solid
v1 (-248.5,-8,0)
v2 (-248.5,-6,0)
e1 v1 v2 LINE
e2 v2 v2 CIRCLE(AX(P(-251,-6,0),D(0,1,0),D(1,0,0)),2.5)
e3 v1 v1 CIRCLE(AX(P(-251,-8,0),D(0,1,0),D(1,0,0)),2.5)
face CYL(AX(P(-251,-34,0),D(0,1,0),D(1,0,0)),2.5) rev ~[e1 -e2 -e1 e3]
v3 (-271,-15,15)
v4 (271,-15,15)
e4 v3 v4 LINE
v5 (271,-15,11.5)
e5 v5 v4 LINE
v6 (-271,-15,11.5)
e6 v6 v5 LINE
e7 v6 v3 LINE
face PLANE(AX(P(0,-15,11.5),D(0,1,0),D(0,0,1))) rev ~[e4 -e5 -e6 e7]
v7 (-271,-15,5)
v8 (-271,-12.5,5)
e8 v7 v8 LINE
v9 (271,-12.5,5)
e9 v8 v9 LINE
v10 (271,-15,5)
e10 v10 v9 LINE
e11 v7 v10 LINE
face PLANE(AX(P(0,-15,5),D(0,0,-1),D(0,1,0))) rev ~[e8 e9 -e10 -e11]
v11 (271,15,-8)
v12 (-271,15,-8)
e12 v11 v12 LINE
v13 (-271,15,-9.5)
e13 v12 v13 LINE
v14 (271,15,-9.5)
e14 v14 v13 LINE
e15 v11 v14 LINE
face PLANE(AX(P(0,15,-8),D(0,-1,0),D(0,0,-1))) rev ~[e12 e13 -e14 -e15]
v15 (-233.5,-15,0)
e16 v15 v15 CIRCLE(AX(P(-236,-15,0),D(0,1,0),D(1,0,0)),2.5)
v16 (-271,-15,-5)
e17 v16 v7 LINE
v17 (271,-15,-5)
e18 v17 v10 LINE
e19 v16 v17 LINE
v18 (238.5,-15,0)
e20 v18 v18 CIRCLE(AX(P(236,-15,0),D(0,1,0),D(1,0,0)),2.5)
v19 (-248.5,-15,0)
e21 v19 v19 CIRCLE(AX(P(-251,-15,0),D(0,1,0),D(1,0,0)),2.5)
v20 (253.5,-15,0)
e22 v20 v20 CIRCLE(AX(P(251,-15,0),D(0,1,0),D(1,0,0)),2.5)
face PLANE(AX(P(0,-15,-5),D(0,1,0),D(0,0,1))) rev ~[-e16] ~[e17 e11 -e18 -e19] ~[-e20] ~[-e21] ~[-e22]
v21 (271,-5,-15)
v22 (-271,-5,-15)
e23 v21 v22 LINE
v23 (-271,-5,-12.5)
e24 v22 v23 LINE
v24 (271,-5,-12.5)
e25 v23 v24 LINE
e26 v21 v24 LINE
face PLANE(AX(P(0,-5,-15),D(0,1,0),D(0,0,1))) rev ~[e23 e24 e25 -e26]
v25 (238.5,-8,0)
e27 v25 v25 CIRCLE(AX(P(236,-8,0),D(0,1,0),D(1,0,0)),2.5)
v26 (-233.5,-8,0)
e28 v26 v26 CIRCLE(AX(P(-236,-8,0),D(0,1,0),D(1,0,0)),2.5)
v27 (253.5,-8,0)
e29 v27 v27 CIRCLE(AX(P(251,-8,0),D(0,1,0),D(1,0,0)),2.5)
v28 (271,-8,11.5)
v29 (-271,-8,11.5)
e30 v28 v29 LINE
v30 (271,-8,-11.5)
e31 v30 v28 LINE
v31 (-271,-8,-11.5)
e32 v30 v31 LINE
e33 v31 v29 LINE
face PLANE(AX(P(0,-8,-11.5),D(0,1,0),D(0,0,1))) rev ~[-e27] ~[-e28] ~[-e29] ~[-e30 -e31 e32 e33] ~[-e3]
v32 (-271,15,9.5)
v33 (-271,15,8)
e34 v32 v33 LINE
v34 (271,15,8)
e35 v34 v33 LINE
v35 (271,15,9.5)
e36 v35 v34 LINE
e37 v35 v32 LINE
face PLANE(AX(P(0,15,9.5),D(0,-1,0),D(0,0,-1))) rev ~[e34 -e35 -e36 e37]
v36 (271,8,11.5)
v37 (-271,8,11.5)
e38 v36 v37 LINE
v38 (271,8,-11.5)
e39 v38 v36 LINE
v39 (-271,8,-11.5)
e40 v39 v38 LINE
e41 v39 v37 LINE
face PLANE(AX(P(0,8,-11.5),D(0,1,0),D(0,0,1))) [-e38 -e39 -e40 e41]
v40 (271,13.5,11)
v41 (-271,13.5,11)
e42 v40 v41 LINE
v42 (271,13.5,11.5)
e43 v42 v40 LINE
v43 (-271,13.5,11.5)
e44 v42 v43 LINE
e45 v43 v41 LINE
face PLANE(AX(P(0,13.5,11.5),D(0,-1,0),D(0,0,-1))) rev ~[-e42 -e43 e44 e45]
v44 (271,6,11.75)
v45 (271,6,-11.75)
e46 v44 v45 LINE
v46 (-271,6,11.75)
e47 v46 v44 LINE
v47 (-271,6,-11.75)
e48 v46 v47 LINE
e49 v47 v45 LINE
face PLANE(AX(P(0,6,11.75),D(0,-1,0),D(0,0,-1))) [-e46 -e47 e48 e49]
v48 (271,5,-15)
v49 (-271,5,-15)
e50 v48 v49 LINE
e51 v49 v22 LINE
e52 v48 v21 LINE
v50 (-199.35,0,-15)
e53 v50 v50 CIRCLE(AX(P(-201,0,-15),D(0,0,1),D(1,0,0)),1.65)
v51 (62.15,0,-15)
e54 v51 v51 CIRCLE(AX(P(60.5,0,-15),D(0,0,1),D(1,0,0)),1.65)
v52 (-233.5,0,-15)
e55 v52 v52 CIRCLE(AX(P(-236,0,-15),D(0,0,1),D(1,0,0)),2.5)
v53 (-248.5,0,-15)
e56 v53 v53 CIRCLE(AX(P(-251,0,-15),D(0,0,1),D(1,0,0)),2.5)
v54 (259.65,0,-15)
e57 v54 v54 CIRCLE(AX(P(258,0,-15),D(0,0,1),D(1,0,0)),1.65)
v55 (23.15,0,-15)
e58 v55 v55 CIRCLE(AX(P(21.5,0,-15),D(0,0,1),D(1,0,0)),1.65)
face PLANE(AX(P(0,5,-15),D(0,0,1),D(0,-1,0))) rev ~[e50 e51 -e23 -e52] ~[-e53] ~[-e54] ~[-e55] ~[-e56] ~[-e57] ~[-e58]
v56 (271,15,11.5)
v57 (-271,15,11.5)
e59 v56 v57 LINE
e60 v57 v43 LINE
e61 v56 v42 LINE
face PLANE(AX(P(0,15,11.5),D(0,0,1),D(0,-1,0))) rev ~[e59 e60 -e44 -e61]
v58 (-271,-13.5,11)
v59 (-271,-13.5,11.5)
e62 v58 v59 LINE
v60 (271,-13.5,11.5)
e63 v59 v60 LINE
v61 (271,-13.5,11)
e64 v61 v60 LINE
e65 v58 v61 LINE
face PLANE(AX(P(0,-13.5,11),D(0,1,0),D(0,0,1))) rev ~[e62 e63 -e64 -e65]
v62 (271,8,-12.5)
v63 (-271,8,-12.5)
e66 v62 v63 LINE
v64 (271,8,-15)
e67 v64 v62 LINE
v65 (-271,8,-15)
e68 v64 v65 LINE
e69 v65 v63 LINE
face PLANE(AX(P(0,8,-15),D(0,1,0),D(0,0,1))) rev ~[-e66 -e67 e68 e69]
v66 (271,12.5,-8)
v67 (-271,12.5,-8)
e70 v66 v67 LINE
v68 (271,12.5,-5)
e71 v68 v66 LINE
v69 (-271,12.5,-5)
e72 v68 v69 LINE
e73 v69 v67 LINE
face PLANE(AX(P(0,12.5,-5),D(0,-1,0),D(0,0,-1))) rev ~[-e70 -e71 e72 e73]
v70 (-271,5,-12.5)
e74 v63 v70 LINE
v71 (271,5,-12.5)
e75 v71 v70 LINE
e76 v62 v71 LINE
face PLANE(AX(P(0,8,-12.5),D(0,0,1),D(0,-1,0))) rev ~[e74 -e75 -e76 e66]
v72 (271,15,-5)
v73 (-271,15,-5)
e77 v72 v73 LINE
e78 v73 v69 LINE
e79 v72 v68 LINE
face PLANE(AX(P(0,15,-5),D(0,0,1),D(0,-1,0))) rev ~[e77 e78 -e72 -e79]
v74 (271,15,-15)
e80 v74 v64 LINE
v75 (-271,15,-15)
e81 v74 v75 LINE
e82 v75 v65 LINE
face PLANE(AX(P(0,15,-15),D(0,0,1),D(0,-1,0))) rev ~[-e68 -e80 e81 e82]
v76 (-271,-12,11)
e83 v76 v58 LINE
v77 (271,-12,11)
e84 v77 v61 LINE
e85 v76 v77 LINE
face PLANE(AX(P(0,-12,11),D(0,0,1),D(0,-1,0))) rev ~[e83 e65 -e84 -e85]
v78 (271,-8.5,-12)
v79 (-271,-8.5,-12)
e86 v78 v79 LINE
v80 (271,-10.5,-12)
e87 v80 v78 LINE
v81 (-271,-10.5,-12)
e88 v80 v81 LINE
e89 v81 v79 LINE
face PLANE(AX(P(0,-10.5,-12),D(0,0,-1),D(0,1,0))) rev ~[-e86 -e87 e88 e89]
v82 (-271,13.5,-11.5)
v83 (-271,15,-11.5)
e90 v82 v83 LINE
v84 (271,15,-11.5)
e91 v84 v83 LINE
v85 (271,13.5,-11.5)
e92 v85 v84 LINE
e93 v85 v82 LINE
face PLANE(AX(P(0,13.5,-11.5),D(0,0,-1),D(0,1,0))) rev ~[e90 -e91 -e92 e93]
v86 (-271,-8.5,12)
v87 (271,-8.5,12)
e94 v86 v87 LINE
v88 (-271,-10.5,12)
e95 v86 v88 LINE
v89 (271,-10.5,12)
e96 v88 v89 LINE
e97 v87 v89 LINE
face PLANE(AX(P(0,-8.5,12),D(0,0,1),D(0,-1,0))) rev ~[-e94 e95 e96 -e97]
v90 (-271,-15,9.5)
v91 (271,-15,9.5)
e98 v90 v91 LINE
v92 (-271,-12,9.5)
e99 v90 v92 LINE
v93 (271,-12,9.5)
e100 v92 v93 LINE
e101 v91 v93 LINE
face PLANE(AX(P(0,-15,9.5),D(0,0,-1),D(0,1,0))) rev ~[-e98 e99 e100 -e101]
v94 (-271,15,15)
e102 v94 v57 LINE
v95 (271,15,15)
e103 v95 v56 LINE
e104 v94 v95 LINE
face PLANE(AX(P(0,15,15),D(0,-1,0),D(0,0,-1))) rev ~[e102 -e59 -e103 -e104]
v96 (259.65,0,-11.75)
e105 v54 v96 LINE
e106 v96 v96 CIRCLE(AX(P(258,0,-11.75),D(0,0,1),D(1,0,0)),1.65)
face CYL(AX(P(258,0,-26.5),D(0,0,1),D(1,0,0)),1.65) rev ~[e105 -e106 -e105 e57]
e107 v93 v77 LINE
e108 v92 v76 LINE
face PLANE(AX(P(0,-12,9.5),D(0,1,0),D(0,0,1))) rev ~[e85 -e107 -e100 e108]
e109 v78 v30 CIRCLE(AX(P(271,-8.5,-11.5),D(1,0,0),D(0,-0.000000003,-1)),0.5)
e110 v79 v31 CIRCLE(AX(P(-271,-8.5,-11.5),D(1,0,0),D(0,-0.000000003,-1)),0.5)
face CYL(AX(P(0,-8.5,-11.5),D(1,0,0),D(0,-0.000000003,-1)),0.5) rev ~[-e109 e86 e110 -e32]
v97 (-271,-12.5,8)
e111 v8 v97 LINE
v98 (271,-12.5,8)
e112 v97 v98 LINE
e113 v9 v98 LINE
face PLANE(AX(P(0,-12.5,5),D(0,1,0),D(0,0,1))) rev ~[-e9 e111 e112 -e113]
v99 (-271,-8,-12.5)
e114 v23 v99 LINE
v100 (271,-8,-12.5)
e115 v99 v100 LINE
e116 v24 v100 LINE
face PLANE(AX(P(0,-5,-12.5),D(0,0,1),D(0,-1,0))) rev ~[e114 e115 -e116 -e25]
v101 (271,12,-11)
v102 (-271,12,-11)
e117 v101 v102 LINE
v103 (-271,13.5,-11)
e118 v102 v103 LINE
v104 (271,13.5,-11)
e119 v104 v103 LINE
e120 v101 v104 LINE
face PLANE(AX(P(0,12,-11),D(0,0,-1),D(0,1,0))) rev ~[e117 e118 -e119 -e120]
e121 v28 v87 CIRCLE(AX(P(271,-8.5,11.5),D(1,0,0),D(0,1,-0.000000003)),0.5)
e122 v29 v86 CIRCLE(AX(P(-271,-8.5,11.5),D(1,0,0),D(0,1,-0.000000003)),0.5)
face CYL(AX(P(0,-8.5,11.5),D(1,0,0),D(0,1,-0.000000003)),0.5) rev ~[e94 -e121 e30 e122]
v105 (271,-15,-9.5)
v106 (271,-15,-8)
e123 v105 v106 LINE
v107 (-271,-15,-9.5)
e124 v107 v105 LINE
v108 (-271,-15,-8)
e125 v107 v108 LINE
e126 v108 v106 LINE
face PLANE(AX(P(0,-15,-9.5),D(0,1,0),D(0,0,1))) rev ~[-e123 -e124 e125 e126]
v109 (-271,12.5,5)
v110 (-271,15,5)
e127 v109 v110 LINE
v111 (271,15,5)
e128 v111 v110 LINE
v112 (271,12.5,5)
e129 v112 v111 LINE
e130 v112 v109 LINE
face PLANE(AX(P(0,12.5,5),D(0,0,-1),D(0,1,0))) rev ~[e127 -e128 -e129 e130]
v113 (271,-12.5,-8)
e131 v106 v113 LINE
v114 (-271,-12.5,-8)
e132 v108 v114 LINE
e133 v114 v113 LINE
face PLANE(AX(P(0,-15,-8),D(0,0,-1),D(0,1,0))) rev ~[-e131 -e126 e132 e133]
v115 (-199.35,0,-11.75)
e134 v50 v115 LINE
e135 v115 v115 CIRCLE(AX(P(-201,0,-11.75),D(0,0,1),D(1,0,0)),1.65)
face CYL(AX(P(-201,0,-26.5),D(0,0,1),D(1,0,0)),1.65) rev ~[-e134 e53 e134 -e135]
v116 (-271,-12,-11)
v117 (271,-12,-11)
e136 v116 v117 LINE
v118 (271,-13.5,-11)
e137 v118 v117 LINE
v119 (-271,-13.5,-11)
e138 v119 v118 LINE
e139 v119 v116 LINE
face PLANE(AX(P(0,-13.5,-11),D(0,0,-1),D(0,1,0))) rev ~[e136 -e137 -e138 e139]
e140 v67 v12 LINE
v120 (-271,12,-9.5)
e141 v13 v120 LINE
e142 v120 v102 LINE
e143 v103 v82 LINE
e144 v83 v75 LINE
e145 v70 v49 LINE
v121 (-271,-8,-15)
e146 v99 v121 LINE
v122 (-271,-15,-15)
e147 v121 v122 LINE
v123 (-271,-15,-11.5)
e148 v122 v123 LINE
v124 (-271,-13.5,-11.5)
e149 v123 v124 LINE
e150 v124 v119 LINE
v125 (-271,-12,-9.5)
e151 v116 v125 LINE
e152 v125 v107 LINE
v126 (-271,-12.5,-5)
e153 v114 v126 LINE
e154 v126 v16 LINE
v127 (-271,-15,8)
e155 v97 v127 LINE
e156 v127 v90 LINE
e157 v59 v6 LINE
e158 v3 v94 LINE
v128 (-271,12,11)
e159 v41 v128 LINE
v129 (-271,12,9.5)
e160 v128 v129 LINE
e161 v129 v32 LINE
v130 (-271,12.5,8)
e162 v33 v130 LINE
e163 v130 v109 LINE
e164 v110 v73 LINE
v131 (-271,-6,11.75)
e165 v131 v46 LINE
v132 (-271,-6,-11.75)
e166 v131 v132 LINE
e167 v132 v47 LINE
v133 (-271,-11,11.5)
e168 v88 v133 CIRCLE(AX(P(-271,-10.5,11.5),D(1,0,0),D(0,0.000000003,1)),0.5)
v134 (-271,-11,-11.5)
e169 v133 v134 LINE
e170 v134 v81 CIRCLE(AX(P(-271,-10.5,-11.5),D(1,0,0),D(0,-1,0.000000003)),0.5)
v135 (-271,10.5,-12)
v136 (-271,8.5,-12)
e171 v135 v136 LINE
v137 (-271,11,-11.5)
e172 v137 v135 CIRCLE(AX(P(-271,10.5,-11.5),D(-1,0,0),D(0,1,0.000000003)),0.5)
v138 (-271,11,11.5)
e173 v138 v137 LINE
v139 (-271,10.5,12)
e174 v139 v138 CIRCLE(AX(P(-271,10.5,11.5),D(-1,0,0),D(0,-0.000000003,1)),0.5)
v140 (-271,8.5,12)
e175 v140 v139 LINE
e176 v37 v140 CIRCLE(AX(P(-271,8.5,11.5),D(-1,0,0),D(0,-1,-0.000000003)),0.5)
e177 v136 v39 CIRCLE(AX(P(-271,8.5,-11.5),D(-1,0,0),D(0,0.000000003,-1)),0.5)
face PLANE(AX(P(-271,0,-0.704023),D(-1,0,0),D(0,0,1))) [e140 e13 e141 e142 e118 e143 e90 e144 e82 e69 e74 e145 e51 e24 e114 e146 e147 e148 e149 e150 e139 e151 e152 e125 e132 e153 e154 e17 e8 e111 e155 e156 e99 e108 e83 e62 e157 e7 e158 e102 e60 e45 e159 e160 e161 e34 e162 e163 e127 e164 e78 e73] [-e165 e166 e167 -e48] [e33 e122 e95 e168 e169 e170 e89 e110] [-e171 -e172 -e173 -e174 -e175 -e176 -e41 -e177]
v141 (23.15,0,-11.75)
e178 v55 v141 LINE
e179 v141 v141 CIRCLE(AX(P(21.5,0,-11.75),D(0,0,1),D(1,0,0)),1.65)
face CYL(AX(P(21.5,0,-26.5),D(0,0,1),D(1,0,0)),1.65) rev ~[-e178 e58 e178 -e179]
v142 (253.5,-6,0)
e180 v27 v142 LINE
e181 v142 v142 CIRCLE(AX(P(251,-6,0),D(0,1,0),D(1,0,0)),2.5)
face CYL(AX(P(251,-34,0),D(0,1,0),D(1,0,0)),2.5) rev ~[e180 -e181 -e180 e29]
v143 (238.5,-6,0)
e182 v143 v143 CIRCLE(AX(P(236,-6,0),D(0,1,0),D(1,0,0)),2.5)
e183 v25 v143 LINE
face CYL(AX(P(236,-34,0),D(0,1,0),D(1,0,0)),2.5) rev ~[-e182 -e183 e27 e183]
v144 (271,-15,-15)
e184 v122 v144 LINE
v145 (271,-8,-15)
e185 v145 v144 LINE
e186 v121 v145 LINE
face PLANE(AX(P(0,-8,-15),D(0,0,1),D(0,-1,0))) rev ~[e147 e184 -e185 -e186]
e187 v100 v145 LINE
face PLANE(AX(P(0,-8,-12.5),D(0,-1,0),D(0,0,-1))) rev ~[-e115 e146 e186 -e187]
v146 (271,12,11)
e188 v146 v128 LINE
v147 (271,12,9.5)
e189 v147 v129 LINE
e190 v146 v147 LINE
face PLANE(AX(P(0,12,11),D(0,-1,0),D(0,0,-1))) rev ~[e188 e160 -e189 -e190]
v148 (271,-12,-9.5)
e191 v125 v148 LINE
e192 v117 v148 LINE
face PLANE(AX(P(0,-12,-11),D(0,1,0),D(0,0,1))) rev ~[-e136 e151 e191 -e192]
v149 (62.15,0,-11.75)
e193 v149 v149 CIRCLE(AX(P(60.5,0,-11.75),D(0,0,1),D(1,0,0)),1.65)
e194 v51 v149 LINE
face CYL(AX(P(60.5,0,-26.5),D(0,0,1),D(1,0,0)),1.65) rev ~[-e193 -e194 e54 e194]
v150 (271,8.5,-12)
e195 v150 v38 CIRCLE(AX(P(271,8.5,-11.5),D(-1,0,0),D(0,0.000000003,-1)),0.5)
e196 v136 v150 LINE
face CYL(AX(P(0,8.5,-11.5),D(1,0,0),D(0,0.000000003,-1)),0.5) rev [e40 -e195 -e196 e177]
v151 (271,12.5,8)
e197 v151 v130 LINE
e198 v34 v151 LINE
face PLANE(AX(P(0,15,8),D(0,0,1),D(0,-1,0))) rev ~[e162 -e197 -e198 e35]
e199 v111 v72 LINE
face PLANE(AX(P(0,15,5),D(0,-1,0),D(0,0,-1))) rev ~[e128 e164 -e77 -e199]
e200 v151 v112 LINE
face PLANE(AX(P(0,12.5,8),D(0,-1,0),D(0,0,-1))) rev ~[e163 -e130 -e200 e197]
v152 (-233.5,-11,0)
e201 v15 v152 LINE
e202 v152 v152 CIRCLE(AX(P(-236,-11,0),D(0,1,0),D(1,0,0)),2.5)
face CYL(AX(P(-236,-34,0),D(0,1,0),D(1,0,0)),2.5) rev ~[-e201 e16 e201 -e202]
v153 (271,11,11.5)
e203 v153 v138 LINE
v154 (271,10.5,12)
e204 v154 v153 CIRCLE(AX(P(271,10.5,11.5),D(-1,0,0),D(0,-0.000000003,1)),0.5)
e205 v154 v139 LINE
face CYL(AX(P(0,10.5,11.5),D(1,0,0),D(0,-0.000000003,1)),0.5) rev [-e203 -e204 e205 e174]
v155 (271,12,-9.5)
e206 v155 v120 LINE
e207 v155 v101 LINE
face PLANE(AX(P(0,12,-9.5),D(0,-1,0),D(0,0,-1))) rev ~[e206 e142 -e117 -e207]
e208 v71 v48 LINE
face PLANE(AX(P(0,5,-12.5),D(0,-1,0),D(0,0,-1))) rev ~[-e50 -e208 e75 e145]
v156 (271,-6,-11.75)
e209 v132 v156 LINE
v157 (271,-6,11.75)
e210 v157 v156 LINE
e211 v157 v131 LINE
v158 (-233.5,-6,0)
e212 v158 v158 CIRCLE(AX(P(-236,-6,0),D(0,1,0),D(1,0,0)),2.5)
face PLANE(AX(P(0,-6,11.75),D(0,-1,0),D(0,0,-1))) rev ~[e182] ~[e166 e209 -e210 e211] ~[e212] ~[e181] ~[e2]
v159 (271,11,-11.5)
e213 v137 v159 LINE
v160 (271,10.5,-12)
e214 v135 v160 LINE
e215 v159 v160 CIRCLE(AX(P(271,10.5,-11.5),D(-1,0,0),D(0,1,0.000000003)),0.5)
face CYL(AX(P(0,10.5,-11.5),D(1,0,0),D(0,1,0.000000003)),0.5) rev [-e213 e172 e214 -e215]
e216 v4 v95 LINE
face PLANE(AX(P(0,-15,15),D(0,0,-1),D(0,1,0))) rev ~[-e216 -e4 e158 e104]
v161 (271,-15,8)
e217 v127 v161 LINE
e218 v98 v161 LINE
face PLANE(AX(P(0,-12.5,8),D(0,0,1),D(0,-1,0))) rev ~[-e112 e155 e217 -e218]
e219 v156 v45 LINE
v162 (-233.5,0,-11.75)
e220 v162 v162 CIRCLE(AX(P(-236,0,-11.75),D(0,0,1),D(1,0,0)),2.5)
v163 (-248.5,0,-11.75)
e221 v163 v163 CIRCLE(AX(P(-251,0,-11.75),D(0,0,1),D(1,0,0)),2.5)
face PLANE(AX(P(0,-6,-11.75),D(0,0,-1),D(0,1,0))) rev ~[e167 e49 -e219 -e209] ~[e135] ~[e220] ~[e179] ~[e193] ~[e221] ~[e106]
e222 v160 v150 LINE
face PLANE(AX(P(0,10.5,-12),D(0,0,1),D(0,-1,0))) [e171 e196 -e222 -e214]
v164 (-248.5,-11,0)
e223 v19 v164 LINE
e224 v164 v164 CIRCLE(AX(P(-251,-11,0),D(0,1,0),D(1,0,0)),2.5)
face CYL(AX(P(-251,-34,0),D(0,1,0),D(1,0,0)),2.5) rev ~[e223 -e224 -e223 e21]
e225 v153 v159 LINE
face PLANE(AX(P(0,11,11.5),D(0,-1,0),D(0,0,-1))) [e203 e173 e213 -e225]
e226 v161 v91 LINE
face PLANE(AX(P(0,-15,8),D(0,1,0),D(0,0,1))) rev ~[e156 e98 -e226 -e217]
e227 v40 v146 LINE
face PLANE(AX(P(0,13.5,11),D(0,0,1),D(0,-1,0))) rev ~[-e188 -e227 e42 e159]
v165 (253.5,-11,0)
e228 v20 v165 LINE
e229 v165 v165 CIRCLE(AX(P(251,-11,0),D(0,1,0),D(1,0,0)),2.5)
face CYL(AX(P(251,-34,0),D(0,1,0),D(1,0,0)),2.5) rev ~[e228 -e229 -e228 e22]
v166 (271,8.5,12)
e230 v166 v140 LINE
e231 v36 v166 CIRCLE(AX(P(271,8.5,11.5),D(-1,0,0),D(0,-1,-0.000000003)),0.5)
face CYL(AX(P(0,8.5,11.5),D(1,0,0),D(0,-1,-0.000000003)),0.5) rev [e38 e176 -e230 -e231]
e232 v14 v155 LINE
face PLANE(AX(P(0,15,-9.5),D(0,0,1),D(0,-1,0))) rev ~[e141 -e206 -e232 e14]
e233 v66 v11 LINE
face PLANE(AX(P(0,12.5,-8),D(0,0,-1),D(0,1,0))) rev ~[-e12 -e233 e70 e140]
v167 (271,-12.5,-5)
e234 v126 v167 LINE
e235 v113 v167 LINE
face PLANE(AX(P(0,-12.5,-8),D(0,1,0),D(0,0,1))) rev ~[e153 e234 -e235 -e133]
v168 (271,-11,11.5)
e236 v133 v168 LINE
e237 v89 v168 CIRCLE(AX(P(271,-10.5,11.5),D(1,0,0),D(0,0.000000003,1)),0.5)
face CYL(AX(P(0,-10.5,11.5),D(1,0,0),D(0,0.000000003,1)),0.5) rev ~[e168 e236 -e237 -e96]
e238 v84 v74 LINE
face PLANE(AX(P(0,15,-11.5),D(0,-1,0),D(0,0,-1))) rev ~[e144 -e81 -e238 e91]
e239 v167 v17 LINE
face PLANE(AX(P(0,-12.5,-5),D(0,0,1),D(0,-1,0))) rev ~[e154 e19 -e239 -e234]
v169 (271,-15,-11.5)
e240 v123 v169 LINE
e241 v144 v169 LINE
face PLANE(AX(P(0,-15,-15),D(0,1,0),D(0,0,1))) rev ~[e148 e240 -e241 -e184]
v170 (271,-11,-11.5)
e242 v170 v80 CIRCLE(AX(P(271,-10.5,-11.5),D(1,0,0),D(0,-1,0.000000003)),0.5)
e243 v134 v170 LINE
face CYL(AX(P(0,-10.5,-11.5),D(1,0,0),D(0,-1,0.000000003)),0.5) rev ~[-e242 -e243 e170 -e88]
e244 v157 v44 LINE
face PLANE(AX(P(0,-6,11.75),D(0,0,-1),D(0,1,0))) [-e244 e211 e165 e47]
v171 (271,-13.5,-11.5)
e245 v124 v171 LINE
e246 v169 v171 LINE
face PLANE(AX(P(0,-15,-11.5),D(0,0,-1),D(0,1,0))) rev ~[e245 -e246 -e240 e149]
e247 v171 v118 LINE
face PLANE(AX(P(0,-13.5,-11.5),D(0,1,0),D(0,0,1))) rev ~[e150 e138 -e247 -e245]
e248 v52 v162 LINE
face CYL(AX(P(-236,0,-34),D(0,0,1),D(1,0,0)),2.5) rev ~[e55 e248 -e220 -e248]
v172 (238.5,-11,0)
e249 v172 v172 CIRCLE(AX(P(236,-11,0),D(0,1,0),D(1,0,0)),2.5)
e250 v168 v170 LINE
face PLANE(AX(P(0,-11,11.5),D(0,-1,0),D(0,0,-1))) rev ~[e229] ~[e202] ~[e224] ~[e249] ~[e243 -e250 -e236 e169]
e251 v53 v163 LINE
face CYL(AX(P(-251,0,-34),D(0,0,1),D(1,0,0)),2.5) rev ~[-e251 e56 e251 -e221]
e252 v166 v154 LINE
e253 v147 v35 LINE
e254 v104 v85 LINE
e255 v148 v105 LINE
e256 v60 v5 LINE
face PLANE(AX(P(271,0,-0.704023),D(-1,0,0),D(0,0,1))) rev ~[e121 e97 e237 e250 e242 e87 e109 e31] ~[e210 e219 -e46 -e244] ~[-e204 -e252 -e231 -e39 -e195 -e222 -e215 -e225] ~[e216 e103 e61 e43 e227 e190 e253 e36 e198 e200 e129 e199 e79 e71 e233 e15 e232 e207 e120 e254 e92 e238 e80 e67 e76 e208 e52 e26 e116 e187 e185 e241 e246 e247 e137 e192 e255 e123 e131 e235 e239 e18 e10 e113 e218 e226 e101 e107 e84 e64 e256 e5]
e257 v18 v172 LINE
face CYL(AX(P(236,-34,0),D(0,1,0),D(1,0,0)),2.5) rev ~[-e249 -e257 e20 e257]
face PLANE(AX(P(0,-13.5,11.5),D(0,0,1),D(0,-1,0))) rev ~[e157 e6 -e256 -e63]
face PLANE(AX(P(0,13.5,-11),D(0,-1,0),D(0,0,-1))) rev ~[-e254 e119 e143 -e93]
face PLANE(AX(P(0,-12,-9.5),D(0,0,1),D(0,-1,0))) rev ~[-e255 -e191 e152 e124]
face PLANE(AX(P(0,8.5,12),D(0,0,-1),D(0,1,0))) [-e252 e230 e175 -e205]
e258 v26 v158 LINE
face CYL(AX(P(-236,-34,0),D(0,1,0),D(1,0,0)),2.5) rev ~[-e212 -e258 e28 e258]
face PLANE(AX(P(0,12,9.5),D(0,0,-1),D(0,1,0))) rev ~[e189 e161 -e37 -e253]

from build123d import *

# Parameters (mm, degrees)
SKETCH_1_W             = 23.5
SKETCH_1_H             = 12
EXTRUDE_1_DEPTH        = 271
HOLE_WIZARD_M6_1_D     = 5
HOLE_WIZARD_M6_1_DEPTH = 19
HOLE_WIZARD_M6_1_TIP   = 1.502151548
HOLE_WIZARD_M6_2_D     = 5
HOLE_WIZARD_M6_2_DEPTH = 19
HOLE_WIZARD_M6_2_TIP   = 1.502151548
HOLE_WIZARD_M4_1_D     = 3.3
HOLE_WIZARD_M4_1_DEPTH = 11.5
HOLE_WIZARD_M4_1_TIP   = 0.991420021


with BuildPart() as part:
    # 草图1 → 凸台-拉伸1 (new, symmetric)
    with BuildSketch(Plane(origin=(0, 0, 0), x_dir=(0, 0, -1), z_dir=(1, 0, 0))):
        Polygon((-15, 15), (-11.5, 15), (-11.5, 13.5), (-11, 13.5), (-11, 12), (-9.5, 12), (-9.5, 15), (-8, 15), (-8, 12.5), (-5, 12.5), (-5, 15), (5, 15), (5, 12.5), (8, 12.5), (8, 15), (9.5, 15), (9.5, 12), (11, 12), (11, 13.5), (11.5, 13.5), (11.5, 15), (15, 15), (15, 8), (12.5, 8), (12.5, 5), (15, 5), (15, -5), (12.5, -5), (12.5, -8), (15, -8), (15, -15), (11.5, -15), (11.5, -13.5), (11, -13.5), (11, -12), (9.5, -12), (9.5, -15), (8, -15), (8, -12.5), (5, -12.5), (5, -15), (-5, -15), (-5, -12.5), (-8, -12.5), (-8, -15), (-9.5, -15), (-9.5, -12), (-11, -12), (-11, -13.5), (-11.5, -13.5), (-11.5, -15), (-15, -15), align=None)
        with BuildLine():
            Line((12, -10.5), (12, -8.5))
            ThreePointArc((12, -8.5), (11.853553391, -8.146446609), (11.5, -8))
            Line((11.5, -8), (-11.5, -8))
            ThreePointArc((-11.5, -8), (-11.853553391, -8.146446609), (-12, -8.5))
            Line((-12, -8.5), (-12, -10.5))
            ThreePointArc((-12, -10.5), (-11.853553391, -10.853553391), (-11.5, -11))
            Line((-11.5, -11), (11.5, -11))
            ThreePointArc((11.5, -11), (11.853553391, -10.853553391), (12, -10.5))
        make_face(mode=Mode.SUBTRACT)
        with BuildLine():
            Line((-11.5, 11), (11.5, 11))
            ThreePointArc((11.5, 11), (11.853553391, 10.853553391), (12, 10.5))
            Line((12, 10.5), (12, 8.5))
            ThreePointArc((12, 8.5), (11.853553391, 8.146446609), (11.5, 8))
            Line((11.5, 8), (-11.5, 8))
            ThreePointArc((-11.5, 8), (-11.853553391, 8.146446609), (-12, 8.5))
            Line((-12, 8.5), (-12, 10.5))
            ThreePointArc((-12, 10.5), (-11.853553391, 10.853553391), (-11.5, 11))
        make_face(mode=Mode.SUBTRACT)
        Rectangle(SKETCH_1_W, SKETCH_1_H, mode=Mode.SUBTRACT)
    extrude(amount=EXTRUDE_1_DEPTH, both=True)

    # M6 螺纹孔1
    with Locations(Plane(origin=(0, -15, 0), x_dir=(-1, 0, 0), z_dir=(0, -1, 0))):
        with Locations((-236, 0), (-251, 0), (251, 0), (236, 0)):
            Hole(HOLE_WIZARD_M6_1_D / 2, depth=HOLE_WIZARD_M6_1_DEPTH)
            with Locations((0, 0, -(HOLE_WIZARD_M6_1_DEPTH + HOLE_WIZARD_M6_1_TIP / 2))):  # 118° drill point
                Cone(0, HOLE_WIZARD_M6_1_D / 2, HOLE_WIZARD_M6_1_TIP, mode=Mode.SUBTRACT)

    # M6 螺纹孔2
    with Locations(Plane(origin=(0, 0, -15), x_dir=(-1, 0, 0), z_dir=(0, 0, -1))):
        with Locations((236, 0), (251, 0)):
            Hole(HOLE_WIZARD_M6_2_D / 2, depth=HOLE_WIZARD_M6_2_DEPTH)
            with Locations((0, 0, -(HOLE_WIZARD_M6_2_DEPTH + HOLE_WIZARD_M6_2_TIP / 2))):  # 118° drill point
                Cone(0, HOLE_WIZARD_M6_2_D / 2, HOLE_WIZARD_M6_2_TIP, mode=Mode.SUBTRACT)

    # M4 螺纹孔1
    with Locations(Plane(origin=(0, 0, -15), x_dir=(-1, 0, 0), z_dir=(0, 0, -1))):
        with Locations((-258, 0), (-60.5, 0), (-21.500000001, 0), (200.999999999, 0)):
            Hole(HOLE_WIZARD_M4_1_D / 2, depth=HOLE_WIZARD_M4_1_DEPTH)
            with Locations((0, 0, -(HOLE_WIZARD_M4_1_DEPTH + HOLE_WIZARD_M4_1_TIP / 2))):  # 118° drill point
                Cone(0, HOLE_WIZARD_M4_1_D / 2, HOLE_WIZARD_M4_1_TIP, mode=Mode.SUBTRACT)


solid = part.part
